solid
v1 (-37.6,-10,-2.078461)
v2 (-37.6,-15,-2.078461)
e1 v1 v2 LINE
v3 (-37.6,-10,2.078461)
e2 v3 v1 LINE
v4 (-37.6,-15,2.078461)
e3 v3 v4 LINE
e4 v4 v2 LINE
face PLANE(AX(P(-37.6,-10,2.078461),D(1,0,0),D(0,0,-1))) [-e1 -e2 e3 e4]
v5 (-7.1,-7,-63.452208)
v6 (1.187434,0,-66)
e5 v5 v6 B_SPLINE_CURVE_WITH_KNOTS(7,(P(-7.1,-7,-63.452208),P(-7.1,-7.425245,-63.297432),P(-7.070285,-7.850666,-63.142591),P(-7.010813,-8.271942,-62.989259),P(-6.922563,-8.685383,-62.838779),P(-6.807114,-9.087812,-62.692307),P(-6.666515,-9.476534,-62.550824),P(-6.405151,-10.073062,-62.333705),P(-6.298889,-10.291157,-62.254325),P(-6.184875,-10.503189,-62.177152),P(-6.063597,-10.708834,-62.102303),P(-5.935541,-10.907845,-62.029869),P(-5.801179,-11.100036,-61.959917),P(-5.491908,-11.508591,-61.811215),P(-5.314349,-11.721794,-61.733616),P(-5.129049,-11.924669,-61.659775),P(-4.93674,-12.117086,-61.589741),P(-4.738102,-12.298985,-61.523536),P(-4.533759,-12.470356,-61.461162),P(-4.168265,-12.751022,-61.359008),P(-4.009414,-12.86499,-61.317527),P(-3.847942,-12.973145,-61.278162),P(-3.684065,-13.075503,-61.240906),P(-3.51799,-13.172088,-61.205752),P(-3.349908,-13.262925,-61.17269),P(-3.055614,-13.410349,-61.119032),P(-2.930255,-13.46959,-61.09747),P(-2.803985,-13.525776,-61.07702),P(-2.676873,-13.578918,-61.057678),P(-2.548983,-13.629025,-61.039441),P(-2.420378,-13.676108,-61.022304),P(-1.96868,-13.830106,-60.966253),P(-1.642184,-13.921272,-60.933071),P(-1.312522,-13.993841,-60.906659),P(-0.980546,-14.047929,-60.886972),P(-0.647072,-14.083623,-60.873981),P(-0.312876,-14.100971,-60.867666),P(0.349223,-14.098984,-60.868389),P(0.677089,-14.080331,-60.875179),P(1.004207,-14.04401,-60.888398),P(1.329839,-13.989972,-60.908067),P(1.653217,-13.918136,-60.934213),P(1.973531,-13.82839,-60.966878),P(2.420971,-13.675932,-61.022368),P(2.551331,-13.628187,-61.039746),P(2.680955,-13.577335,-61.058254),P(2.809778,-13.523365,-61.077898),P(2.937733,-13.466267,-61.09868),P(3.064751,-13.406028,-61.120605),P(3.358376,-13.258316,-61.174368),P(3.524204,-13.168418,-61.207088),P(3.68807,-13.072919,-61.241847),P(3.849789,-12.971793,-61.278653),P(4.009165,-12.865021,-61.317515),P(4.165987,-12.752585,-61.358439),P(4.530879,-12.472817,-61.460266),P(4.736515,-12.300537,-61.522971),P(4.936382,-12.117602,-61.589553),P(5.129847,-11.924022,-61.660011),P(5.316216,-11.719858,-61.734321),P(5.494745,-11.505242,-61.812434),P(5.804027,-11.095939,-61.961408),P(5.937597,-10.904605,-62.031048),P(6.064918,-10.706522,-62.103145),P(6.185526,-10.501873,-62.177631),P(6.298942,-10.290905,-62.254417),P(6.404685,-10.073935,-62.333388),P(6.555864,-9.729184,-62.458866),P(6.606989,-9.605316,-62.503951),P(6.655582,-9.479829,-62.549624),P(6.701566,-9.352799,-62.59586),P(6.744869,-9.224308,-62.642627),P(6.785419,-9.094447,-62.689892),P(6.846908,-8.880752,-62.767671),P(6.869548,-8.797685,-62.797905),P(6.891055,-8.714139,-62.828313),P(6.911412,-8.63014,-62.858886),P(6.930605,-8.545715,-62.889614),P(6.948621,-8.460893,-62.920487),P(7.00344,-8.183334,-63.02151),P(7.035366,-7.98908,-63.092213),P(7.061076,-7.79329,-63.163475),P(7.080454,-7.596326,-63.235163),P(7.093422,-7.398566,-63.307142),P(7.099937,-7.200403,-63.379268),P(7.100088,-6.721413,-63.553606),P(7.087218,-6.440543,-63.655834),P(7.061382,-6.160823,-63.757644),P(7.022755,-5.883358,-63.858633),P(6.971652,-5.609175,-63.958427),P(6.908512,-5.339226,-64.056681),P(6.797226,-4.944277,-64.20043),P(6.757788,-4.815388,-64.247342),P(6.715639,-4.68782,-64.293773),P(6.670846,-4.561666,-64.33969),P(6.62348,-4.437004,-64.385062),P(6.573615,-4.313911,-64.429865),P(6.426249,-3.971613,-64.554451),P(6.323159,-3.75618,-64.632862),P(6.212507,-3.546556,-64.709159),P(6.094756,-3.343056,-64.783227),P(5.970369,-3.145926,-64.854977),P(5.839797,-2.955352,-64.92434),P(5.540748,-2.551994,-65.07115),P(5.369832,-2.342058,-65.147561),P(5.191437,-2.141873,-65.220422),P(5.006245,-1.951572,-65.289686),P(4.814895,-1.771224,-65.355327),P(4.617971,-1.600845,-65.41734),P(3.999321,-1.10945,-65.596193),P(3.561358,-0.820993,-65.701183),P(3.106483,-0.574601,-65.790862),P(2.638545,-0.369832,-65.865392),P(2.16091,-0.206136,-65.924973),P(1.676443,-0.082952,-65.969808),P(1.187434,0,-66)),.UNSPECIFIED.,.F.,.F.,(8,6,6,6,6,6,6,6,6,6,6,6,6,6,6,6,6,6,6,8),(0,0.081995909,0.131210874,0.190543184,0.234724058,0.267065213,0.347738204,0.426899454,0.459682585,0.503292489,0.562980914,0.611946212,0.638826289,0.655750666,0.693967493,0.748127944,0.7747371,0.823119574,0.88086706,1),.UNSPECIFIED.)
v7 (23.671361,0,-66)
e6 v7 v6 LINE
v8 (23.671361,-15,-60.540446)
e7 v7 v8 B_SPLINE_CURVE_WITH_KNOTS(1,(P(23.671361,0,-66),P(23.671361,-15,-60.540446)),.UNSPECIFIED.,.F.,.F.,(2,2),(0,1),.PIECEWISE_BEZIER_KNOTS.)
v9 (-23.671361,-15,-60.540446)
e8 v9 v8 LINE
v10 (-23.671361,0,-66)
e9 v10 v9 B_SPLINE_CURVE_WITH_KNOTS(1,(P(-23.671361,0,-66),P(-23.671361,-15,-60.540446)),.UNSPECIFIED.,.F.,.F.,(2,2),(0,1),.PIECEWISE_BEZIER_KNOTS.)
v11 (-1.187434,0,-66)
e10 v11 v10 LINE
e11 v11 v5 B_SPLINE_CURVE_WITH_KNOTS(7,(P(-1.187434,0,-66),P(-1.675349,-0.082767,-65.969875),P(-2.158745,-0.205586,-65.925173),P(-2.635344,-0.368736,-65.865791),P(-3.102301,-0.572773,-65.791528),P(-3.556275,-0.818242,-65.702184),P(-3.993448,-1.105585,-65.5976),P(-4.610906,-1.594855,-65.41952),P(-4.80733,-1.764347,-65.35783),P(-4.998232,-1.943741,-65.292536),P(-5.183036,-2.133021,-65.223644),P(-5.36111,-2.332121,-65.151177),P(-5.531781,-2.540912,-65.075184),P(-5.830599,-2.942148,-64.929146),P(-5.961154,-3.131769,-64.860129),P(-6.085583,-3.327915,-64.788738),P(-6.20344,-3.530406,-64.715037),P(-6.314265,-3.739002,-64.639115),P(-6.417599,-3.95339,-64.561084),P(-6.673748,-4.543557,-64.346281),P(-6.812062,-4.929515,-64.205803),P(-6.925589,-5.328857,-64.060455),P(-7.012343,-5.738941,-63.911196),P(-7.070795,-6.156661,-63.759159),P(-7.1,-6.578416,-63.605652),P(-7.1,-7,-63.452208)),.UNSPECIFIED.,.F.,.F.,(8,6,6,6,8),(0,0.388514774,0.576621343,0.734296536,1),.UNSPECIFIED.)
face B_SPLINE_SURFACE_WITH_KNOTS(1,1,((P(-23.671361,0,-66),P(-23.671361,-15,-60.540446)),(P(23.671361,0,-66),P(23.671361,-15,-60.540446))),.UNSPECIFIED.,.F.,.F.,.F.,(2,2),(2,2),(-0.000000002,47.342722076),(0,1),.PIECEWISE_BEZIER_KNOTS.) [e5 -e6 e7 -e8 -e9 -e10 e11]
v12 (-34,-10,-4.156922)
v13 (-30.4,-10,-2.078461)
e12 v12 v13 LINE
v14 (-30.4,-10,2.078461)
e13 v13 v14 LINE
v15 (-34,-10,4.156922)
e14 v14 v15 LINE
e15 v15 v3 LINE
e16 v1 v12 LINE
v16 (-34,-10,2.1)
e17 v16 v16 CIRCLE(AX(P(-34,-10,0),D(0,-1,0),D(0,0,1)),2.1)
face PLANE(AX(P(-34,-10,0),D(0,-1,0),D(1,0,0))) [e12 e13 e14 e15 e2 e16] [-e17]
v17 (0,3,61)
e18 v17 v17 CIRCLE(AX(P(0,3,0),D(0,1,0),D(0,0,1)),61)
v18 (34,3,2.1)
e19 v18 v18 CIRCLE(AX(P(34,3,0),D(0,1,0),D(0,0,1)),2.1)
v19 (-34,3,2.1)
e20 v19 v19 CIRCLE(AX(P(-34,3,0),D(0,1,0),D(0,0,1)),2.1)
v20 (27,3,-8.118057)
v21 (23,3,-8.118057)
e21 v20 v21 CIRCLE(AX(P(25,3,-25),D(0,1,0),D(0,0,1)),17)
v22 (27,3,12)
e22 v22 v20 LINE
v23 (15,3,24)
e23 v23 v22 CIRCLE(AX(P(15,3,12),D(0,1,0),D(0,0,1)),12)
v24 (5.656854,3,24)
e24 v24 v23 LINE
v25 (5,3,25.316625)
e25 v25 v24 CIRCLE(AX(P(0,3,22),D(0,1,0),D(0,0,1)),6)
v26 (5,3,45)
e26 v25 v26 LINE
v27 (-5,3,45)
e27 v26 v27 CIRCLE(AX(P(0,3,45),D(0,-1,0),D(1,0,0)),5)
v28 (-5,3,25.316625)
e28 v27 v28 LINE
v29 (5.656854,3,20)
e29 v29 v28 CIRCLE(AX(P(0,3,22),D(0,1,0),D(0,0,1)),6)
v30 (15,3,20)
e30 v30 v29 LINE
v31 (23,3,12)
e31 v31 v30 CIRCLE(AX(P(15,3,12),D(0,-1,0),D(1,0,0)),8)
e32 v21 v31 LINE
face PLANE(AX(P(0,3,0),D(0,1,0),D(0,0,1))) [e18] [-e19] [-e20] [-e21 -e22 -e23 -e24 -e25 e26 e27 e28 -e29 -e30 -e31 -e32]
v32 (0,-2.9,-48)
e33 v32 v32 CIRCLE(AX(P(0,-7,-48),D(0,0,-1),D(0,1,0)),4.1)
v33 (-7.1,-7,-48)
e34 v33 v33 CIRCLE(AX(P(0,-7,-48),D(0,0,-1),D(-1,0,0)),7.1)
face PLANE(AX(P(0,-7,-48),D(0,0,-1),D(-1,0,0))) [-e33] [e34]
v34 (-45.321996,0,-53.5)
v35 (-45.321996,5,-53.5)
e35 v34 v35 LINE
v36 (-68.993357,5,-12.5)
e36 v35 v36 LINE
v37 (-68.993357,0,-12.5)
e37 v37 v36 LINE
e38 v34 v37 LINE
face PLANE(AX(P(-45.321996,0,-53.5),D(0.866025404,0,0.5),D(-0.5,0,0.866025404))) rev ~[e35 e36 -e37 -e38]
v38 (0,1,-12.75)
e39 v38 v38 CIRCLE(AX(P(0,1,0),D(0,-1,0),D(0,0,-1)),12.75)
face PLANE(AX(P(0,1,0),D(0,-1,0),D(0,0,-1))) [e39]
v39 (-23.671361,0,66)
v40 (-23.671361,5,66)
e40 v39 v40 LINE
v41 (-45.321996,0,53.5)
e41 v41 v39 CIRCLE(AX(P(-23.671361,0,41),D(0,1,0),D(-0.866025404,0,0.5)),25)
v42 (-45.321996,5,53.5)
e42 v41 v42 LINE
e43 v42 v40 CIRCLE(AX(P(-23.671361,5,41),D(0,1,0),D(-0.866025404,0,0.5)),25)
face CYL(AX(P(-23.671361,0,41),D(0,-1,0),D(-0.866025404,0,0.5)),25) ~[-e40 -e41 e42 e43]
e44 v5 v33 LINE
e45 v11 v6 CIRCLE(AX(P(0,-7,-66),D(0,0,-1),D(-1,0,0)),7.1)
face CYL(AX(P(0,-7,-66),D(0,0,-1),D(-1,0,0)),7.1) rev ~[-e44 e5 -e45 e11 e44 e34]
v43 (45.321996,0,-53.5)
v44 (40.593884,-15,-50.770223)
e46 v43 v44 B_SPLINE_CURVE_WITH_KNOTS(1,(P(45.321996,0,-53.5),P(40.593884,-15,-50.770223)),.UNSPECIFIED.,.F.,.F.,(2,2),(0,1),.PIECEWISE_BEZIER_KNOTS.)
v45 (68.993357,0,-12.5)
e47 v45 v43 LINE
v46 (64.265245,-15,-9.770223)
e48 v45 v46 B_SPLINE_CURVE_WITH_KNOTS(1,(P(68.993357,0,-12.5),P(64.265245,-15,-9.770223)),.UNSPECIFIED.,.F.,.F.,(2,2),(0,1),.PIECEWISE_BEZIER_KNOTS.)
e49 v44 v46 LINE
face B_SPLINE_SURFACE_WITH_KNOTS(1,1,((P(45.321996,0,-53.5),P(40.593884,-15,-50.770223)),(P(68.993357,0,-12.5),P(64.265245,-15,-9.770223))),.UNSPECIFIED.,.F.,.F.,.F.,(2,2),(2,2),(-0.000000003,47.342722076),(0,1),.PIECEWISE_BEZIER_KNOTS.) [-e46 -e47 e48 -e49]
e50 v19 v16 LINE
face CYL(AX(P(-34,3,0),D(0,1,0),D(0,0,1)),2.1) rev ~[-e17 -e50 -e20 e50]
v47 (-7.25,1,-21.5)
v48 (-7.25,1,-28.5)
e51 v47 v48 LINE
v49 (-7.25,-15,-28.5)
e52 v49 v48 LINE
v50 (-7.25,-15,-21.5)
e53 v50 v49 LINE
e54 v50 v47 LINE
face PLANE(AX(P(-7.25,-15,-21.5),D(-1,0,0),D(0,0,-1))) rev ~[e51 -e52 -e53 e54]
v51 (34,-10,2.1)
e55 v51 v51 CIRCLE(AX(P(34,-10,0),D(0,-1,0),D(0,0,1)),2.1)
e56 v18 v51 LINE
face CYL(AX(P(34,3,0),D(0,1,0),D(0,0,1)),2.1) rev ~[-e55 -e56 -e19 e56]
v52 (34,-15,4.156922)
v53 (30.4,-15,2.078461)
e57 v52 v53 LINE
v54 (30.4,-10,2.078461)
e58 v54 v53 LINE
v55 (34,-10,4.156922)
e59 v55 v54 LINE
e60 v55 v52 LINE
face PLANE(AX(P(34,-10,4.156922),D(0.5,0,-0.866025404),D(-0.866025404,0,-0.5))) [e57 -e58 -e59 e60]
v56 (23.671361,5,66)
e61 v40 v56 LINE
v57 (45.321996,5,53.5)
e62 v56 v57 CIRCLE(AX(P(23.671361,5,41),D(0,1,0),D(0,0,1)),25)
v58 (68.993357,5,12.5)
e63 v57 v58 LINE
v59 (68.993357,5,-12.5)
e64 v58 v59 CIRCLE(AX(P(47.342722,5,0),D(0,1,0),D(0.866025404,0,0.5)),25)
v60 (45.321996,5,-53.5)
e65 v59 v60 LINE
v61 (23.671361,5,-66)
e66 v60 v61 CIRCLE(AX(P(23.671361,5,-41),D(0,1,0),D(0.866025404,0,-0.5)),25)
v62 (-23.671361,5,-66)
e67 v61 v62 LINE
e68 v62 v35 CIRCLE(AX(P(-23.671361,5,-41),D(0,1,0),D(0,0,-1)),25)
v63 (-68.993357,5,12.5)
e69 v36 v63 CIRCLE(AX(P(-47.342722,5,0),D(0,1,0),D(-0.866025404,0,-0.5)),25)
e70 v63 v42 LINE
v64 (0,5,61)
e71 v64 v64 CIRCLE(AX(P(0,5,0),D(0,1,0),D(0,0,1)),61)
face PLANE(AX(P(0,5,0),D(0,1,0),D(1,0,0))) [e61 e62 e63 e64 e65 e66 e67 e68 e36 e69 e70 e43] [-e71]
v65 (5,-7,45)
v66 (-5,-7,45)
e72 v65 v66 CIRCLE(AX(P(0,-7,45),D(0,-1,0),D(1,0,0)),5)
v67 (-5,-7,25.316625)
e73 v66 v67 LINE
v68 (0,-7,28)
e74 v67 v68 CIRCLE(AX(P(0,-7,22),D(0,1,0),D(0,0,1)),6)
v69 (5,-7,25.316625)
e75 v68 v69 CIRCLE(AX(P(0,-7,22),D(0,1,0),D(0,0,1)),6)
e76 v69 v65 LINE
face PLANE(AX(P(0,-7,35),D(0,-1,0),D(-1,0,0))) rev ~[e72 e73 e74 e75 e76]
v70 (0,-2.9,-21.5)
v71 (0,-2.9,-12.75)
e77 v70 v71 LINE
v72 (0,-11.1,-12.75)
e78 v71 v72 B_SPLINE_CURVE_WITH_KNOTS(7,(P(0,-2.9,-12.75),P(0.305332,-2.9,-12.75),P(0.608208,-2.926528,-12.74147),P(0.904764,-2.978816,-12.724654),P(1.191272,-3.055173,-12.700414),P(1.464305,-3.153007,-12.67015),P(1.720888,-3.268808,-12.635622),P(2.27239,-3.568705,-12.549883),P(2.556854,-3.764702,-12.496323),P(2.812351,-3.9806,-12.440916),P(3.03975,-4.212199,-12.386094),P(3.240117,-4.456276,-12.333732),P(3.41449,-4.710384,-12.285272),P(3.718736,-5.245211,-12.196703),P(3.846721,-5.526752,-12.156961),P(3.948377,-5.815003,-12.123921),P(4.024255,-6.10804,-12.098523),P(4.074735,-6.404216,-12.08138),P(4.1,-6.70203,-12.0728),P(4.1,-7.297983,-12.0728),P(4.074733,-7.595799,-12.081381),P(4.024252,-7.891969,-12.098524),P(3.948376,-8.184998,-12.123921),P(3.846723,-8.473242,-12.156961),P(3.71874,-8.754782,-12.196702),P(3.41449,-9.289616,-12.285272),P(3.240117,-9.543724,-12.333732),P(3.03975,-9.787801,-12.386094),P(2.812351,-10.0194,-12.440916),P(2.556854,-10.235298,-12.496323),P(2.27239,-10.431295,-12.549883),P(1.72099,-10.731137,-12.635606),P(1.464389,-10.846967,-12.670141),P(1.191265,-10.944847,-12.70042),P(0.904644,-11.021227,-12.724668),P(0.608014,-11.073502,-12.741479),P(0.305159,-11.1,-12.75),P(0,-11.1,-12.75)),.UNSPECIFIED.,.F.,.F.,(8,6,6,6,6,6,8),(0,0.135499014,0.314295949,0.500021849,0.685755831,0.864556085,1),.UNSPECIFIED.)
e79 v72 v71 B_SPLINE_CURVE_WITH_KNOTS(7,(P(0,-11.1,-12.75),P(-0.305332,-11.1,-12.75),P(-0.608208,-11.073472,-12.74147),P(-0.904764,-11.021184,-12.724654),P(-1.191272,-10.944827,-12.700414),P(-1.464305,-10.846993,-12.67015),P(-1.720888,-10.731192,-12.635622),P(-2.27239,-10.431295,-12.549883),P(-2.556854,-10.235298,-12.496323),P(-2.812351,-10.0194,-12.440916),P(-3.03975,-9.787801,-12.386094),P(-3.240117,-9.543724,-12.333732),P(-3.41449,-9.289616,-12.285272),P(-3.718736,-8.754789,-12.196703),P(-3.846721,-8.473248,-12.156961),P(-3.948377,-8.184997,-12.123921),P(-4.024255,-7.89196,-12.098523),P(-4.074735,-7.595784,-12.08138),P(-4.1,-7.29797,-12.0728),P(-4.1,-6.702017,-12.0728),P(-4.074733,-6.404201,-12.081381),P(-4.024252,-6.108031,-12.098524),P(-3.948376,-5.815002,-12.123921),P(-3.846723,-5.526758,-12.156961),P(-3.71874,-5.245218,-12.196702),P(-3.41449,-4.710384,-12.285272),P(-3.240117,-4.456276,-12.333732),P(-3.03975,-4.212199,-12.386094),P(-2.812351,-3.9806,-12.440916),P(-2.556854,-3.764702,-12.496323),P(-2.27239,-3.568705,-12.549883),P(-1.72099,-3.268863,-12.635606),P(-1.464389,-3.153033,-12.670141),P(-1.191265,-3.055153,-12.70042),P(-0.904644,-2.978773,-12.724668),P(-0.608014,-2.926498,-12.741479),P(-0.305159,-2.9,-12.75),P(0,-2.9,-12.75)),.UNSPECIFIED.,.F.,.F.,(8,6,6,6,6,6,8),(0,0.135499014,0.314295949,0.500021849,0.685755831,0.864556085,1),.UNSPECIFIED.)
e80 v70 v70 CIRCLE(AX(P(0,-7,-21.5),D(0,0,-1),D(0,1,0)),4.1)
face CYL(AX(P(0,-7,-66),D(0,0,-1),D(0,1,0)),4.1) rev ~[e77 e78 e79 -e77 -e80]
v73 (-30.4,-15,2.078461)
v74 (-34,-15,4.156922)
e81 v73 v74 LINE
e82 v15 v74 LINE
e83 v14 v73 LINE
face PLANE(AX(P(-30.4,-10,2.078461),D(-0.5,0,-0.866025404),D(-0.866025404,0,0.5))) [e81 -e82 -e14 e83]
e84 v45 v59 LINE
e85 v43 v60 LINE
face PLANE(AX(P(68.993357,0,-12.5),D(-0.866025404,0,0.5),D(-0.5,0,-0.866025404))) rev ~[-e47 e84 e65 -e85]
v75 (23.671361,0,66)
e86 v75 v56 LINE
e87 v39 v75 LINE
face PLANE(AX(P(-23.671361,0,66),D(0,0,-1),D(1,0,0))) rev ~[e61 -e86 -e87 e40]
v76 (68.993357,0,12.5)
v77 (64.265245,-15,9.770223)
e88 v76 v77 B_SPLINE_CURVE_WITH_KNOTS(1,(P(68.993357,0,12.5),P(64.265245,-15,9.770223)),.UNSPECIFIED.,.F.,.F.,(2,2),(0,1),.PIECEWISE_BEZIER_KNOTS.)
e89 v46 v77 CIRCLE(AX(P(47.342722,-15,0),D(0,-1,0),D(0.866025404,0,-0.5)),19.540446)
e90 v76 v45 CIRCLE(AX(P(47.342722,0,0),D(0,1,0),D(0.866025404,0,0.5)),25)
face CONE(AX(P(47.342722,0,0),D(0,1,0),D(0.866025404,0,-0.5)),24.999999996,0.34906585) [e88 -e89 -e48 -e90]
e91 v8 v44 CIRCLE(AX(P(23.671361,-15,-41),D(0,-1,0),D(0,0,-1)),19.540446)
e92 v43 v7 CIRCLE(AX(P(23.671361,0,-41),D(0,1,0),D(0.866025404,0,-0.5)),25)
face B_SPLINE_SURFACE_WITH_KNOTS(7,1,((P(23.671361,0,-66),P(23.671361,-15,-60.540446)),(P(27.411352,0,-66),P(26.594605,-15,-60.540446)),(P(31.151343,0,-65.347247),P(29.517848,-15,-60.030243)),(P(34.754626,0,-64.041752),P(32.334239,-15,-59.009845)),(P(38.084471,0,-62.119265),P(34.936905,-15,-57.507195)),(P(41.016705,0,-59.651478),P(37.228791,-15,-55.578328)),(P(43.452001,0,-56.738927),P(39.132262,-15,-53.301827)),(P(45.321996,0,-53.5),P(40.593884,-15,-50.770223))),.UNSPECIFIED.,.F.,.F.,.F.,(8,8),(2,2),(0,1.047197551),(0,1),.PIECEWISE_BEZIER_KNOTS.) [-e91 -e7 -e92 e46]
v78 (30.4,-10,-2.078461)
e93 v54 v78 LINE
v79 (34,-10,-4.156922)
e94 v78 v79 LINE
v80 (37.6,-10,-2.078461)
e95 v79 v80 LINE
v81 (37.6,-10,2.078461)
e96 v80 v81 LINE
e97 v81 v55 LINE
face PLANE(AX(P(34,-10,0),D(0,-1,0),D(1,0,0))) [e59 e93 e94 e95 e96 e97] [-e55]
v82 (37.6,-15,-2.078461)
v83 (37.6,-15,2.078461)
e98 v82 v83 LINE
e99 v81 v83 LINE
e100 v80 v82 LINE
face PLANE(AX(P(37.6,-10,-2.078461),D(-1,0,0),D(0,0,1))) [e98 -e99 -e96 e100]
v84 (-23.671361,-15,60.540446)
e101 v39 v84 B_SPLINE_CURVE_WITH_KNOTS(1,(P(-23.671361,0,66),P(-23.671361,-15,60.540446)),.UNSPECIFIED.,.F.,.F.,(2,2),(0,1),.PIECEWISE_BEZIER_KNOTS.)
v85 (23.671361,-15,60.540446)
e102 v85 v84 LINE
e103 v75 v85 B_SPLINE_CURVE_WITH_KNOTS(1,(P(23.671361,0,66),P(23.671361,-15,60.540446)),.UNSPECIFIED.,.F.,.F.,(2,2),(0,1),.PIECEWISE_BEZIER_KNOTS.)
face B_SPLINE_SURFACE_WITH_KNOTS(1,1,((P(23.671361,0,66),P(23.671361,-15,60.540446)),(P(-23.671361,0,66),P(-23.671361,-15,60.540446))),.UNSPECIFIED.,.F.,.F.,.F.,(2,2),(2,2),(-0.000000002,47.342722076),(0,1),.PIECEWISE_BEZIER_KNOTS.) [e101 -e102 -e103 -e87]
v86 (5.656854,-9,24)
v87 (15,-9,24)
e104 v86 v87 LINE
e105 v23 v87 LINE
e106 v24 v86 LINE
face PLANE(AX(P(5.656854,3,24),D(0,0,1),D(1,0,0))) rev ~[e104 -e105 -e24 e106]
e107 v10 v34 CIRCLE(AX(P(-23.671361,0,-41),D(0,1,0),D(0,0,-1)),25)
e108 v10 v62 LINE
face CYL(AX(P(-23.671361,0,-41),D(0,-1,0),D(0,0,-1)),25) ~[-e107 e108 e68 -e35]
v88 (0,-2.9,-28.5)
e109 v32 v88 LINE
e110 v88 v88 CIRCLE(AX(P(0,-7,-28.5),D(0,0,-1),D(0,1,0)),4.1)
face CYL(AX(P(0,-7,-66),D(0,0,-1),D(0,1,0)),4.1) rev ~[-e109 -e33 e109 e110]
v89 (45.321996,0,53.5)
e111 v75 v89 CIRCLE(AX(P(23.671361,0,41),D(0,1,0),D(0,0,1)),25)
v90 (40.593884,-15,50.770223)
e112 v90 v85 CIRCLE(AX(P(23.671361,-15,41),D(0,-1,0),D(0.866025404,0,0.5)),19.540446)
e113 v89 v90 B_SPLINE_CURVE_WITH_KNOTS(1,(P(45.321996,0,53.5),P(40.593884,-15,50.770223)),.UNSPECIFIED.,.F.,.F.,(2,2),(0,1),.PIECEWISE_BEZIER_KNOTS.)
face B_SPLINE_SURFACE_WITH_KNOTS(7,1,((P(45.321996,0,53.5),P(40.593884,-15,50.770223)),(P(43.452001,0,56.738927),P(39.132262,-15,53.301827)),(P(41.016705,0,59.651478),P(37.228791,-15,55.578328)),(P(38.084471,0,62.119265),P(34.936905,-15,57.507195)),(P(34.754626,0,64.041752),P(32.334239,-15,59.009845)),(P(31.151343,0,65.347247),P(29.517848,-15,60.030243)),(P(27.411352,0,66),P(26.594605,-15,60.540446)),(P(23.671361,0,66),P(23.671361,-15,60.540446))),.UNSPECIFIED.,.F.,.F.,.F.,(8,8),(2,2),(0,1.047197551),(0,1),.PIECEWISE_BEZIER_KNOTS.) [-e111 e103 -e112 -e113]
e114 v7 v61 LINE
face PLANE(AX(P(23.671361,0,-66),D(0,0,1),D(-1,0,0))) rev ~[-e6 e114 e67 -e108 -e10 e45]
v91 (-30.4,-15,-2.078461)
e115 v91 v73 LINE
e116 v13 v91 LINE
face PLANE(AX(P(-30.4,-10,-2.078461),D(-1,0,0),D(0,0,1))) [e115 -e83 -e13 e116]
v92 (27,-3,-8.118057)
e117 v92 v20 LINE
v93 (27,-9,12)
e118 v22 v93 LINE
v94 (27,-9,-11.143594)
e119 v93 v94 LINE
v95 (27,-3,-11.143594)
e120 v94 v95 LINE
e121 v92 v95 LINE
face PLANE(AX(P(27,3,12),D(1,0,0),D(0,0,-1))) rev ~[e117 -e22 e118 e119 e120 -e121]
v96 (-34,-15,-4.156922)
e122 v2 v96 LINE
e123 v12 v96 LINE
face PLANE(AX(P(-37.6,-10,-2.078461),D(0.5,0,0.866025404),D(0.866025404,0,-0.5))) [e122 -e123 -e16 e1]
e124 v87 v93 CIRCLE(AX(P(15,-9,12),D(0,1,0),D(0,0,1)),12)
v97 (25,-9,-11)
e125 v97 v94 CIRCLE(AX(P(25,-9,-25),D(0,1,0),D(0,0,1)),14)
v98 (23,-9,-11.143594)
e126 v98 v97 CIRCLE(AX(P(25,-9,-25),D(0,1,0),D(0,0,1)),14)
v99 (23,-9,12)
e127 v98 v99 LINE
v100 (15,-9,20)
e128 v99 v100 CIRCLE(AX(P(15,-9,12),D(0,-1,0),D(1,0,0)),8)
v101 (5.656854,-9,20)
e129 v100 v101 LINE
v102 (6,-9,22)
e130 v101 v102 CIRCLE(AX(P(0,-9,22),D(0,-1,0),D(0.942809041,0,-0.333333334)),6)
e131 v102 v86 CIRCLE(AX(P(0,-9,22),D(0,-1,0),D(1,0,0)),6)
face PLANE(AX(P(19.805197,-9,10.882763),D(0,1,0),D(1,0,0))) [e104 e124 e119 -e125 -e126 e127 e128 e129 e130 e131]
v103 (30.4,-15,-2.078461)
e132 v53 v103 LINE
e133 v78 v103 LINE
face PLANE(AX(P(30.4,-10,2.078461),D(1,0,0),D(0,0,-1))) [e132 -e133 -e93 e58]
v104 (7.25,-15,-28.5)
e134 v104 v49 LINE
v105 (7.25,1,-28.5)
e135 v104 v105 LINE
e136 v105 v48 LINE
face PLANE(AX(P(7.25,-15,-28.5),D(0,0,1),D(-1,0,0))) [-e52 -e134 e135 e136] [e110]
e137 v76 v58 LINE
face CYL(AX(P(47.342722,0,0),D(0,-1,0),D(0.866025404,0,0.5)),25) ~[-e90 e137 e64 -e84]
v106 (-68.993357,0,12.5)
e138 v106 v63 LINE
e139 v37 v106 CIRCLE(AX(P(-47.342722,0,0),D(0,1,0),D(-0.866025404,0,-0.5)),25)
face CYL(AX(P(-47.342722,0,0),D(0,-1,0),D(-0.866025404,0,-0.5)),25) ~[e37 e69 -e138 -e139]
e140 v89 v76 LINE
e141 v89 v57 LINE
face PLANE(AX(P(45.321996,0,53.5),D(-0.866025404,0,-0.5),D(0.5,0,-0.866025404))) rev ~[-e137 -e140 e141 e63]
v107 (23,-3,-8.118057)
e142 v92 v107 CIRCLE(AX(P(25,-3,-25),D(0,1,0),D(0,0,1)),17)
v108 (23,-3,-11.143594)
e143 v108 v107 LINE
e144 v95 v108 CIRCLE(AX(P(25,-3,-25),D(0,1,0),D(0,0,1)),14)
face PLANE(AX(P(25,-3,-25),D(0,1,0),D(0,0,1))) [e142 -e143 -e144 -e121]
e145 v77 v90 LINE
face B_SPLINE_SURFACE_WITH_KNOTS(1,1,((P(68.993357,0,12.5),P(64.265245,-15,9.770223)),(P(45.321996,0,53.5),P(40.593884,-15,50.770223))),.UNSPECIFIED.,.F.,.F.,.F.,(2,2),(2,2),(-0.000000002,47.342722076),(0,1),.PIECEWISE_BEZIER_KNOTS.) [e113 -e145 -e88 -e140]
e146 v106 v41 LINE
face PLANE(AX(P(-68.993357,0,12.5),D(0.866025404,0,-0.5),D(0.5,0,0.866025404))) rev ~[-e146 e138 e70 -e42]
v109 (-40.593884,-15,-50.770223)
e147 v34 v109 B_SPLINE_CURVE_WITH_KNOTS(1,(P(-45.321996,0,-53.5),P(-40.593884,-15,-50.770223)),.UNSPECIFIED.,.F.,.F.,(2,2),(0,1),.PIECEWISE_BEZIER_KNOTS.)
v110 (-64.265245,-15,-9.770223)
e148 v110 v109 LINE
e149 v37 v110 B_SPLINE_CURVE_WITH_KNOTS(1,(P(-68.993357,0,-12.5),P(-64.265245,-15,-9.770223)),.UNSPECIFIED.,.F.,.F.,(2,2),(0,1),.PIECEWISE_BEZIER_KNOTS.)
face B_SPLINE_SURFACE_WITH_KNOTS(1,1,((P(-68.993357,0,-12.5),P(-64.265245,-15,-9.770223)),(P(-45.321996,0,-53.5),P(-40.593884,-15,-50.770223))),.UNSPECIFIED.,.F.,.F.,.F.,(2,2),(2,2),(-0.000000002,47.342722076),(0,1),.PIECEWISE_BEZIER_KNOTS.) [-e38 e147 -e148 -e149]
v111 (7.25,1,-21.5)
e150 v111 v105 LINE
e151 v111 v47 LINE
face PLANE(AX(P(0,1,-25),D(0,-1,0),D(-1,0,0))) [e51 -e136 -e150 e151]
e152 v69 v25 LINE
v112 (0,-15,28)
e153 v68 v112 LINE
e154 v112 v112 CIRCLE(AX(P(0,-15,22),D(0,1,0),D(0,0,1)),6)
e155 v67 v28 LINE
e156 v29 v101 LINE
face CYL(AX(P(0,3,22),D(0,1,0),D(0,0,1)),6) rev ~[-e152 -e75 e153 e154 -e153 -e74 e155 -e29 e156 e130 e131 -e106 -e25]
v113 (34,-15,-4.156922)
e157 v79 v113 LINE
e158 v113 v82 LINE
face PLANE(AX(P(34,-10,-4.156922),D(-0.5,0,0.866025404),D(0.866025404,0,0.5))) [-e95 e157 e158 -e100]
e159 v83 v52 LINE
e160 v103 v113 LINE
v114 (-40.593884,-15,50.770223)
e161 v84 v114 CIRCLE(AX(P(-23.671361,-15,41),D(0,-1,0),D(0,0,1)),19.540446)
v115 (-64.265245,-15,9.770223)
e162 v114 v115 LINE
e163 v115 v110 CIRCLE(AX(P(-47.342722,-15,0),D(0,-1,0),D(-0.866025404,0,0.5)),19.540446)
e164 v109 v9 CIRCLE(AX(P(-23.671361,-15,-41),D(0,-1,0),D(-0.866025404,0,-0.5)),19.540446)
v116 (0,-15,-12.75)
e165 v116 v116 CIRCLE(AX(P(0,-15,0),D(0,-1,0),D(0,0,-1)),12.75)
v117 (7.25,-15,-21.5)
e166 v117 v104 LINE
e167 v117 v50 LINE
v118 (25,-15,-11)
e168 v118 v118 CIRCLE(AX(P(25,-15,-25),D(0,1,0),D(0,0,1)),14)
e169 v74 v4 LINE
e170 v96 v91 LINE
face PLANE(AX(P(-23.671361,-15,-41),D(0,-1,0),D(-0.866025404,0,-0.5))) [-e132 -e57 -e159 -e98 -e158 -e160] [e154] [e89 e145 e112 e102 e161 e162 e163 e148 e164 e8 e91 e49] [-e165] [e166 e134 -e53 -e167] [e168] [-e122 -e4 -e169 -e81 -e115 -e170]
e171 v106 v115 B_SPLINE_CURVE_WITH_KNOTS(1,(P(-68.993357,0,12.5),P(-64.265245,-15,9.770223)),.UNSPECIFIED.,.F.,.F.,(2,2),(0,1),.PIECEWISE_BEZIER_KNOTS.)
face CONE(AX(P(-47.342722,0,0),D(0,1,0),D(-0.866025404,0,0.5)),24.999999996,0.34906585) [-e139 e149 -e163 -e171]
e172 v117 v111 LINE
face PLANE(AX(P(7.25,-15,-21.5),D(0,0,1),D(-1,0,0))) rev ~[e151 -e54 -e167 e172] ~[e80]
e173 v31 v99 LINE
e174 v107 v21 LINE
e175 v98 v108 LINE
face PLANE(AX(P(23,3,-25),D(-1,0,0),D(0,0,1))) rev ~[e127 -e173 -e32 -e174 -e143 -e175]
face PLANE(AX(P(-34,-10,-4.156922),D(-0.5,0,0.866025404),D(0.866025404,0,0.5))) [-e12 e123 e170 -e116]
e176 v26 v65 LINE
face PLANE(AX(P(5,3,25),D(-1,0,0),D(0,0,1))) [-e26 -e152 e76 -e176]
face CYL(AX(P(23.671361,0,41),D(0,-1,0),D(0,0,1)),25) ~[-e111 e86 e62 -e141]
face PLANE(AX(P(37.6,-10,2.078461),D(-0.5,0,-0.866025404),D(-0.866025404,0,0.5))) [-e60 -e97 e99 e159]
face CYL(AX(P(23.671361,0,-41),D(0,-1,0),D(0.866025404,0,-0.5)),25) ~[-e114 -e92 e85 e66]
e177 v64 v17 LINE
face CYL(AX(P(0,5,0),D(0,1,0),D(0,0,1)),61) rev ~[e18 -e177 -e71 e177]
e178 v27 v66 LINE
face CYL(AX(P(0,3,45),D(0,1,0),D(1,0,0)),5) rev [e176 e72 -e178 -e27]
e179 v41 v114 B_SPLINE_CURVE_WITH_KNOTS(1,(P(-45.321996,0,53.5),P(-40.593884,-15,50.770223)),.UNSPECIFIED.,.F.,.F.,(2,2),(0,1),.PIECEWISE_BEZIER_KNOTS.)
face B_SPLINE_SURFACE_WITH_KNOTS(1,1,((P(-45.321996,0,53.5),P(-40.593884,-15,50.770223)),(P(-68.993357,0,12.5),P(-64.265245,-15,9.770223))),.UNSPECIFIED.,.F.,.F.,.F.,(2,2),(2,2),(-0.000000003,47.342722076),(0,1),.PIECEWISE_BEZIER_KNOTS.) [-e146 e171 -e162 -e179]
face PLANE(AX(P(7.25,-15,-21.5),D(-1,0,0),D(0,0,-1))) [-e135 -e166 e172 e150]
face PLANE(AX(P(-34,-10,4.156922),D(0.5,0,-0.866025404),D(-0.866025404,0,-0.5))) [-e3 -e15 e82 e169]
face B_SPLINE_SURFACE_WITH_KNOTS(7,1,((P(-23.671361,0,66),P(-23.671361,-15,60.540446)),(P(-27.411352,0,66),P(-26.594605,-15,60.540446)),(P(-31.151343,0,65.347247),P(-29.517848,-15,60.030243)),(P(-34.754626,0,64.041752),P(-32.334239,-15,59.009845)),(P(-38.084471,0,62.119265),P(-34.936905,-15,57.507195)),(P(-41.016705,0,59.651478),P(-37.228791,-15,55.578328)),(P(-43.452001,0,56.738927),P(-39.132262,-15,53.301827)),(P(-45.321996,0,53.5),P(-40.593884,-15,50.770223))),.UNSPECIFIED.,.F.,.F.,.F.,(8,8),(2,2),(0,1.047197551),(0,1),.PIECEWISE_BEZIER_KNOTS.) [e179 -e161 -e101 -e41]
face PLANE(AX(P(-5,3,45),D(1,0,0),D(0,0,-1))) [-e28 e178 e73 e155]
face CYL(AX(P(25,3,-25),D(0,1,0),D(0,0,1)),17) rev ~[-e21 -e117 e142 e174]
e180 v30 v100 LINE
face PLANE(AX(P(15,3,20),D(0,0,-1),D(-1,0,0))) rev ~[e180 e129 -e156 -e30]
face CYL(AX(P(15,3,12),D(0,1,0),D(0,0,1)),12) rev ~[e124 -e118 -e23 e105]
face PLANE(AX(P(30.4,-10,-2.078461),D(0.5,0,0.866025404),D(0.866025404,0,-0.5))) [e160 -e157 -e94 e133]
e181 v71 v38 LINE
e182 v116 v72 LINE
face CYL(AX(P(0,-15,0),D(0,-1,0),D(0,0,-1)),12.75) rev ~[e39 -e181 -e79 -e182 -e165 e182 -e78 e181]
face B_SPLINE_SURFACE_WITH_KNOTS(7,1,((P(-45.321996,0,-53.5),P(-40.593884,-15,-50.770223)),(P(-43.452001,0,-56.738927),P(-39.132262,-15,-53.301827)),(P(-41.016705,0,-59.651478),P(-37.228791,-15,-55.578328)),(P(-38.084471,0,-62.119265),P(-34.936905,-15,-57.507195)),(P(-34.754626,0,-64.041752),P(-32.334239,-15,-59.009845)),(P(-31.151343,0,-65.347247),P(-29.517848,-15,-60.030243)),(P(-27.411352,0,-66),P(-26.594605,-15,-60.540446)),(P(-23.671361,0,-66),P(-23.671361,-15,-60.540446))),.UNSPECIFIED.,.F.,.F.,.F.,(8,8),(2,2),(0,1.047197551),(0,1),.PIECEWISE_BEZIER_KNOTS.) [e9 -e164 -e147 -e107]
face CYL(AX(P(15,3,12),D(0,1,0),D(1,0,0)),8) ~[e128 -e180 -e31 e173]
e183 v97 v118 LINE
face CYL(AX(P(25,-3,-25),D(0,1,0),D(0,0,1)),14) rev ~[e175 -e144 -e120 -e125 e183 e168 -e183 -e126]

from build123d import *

# Parameters (mm, degrees)
BOSS_EXTRUDE1_DEPTH = 5
BOSS_EXTRUDE2_DEPTH = 15
BOSS_EXTRUDE2_TAPER = 20
SKETCH3_R           = 61
CUT_EXTRUDE1_DEPTH  = 2
SKETCH4_R           = 17
CUT_EXTRUDE2_DEPTH  = 6
CUT_EXTRUDE3_REACH  = 100.658
SKETCH7_R           = 14
SKETCH8_R           = 12.75
CUT_EXTRUDE4_DEPTH  = 16
SKETCH9_R           = 2.1
CUT_EXTRUDE5_DEPTH  = 20
SKETCH12_R          = 4.1
CUT_EXTRUDE7_DEPTH  = 60
SKETCH13_R          = 7.1
CUT_EXTRUDE8_DEPTH  = 18
SKETCH14_W          = 14.5
SKETCH14_H          = 7
CUT_EXTRUDE9_DEPTH  = 16
CUT_EXTRUDE10_START = -5
SKETCH15_R          = 2.1
CUT_EXTRUDE10_DEPTH = 5
CUT_EXTRUDE11_REACH = 101.566
SKETCH16_R          = 6
CUT_EXTRUDE12_DEPTH = 12
CUT_EXTRUDE13_DEPTH = 10


with BuildPart() as part:
    # Sketch1 → Boss-Extrude1 (new body)
    with BuildSketch(Plane(origin=(0, 0, 0), x_dir=(1, 0, 0), z_dir=(0, 1, 0))):
        with BuildLine():
            Line((68.993357168, 12.5), (45.321996131, 53.5))
            ThreePointArc((45.321996131, 53.5), (36.171361037, 62.650635095), (23.671361037, 66))
            Line((23.671361037, 66), (-23.671361037, 66))
            ThreePointArc((-23.671361037, 66), (-36.171361037, 62.650635095), (-45.321996131, 53.5))
            Line((-45.321996131, 53.5), (-68.993357168, 12.5))
            ThreePointArc((-68.993357168, 12.5), (-72.342722074, 0), (-68.993357168, -12.5))
            Line((-68.993357168, -12.5), (-45.321996131, -53.5))
            ThreePointArc((-45.321996131, -53.5), (-36.171361037, -62.650635095), (-23.671361037, -66))
            Line((-23.671361037, -66), (23.671361037, -66))
            ThreePointArc((23.671361037, -66), (36.171361037, -62.650635095), (45.321996131, -53.5))
            Line((45.321996131, -53.5), (68.993357168, -12.5))
            ThreePointArc((68.993357168, -12.5), (72.342722074, 0), (68.993357168, 12.5))
        make_face()
    extrude(amount=BOSS_EXTRUDE1_DEPTH)

    # Sketch2 → Boss-Extrude2 (add)
    with BuildSketch(Plane.XZ):
        with BuildLine():
            Line((-68.993357168, -12.5), (-45.321996131, -53.5))
            ThreePointArc((-45.321996131, -53.5), (-36.171361037, -62.650635095), (-23.671361037, -66))
            Line((-23.671361037, -66), (23.671361037, -66))
            ThreePointArc((23.671361037, -66), (36.171361037, -62.650635095), (45.321996131, -53.5))
            Line((45.321996131, -53.5), (68.993357168, -12.5))
            ThreePointArc((68.993357168, -12.5), (72.342722074, 0), (68.993357168, 12.5))
            Line((68.993357168, 12.5), (45.321996131, 53.5))
            ThreePointArc((45.321996131, 53.5), (36.171361037, 62.650635095), (23.671361037, 66))
            Line((23.671361037, 66), (-23.671361037, 66))
            ThreePointArc((-23.671361037, 66), (-36.171361037, 62.650635095), (-45.321996131, 53.5))
            Line((-45.321996131, 53.5), (-68.993357168, 12.5))
            ThreePointArc((-68.993357168, 12.5), (-72.342722074, 0), (-68.993357168, -12.5))
        make_face()
    extrude(amount=BOSS_EXTRUDE2_DEPTH, taper=BOSS_EXTRUDE2_TAPER)

    # Sketch3 → Cut-Extrude1 (cut)
    with BuildSketch(Plane(origin=(0, 5, 0), x_dir=(1, 0, 0), z_dir=(0, 1, 0))):
        with Locations(Location((0, 0, 0), (0, 0, 270))):
            Circle(SKETCH3_R)
    extrude(amount=-CUT_EXTRUDE1_DEPTH, mode=Mode.SUBTRACT)

    # Sketch4 → Cut-Extrude2 (cut)
    with BuildSketch(Plane(origin=(0, 3, 0), x_dir=(1, 0, 0), z_dir=(0, 1, 0))):
        with Locations(Location((25, 25, 0), (0, 0, 270))):
            Circle(SKETCH4_R)
    extrude(amount=-CUT_EXTRUDE2_DEPTH, mode=Mode.SUBTRACT)

    # Sketch7 → Cut-Extrude3 (cut, up to next)
    with BuildSketch(Plane(origin=(0, -3, 0), x_dir=(1, 0, 0), z_dir=(0, 1, 0)), mode=Mode.PRIVATE) as cut_extrude3_sk1:
        with Locations(Location((25, 25, 0), (0, 0, 270))):
            Circle(SKETCH7_R)
    cut_extrude3_tool1 = extrude(cut_extrude3_sk1.sketch, amount=-CUT_EXTRUDE3_REACH, mode=Mode.PRIVATE) & part.part
    add(cut_extrude3_tool1.solids().sort_by_distance((25, -3, -25))[0], mode=Mode.SUBTRACT)

    # Sketch8 → Cut-Extrude4 (cut)
    with BuildSketch(Plane(origin=(0, -15, 0), x_dir=(-1, 0, 0), z_dir=(0, -1, 0))):
        with Locations(Location((0, 0, 0), (0, 0, 90))):
            Circle(SKETCH8_R)
    extrude(amount=-CUT_EXTRUDE4_DEPTH, mode=Mode.SUBTRACT)

    # Sketch9 → Cut-Extrude5 (cut)
    with BuildSketch(Plane(origin=(0, 3, 0), x_dir=(1, 0, 0), z_dir=(0, 1, 0))):
        with Locations(Location((34, 0, 0), (0, 0, 270))):
            Circle(SKETCH9_R)
        with Locations(Location((-34, 0, 0), (0, 0, 270))):
            Circle(SKETCH9_R)
    extrude(amount=-CUT_EXTRUDE5_DEPTH, mode=Mode.SUBTRACT)

    # Sketch12 → Cut-Extrude7 (cut)
    with BuildSketch(Plane(origin=(0, 0, -66), x_dir=(-1, 0, 0), z_dir=(0, 0, -1))):
        with Locations(Location((0, -7, 0), (0, 0, 90))):
            Circle(SKETCH12_R)
    extrude(amount=-CUT_EXTRUDE7_DEPTH, mode=Mode.SUBTRACT)

    # Sketch13 → Cut-Extrude8 (cut)
    with BuildSketch(Plane(origin=(0, 0, -66), x_dir=(-1, 0, 0), z_dir=(0, 0, -1))):
        with Locations((0, -7)):
            Circle(SKETCH13_R)
    extrude(amount=-CUT_EXTRUDE8_DEPTH, mode=Mode.SUBTRACT)

    # Sketch14 → Cut-Extrude9 (cut)
    with BuildSketch(Plane(origin=(0, -15, 0), x_dir=(-1, 0, 0), z_dir=(0, -1, 0))):
        with Locations((0, 25)):
            Rectangle(SKETCH14_W, SKETCH14_H)
    extrude(amount=-CUT_EXTRUDE9_DEPTH, mode=Mode.SUBTRACT)

    # Sketch15 → Cut-Extrude10 (cut)
    # profile 1 of 2: a face of its own
    with BuildSketch(Plane.XZ.offset(15).offset(CUT_EXTRUDE10_START)):
        Polygon((-34, 4.156921938), (-37.6, 2.078460969), (-37.6, -2.078460969), (-34, -4.156921938), (-30.4, -2.078460969), (-30.4, 2.078460969), align=None)
        with Locations(Location((-34, 0, 0), (0, 0, 90))):
            Circle(SKETCH15_R, mode=Mode.SUBTRACT)
    # profile 2 of 2: a face of its own
    with BuildSketch(Plane.XZ.offset(15).offset(CUT_EXTRUDE10_START)):
        Polygon((34, 4.156921938), (30.4, 2.078460969), (30.4, -2.078460969), (34, -4.156921938), (37.6, -2.078460969), (37.6, 2.078460969), align=None)
        with Locations(Location((34, 0, 0), (0, 0, 90))):
            Circle(SKETCH15_R, mode=Mode.SUBTRACT)
    extrude(amount=CUT_EXTRUDE10_DEPTH, mode=Mode.SUBTRACT)

    # Sketch16 → Cut-Extrude11 (cut, up to next)
    with BuildSketch(Plane(origin=(0, 3, 0), x_dir=(1, 0, 0), z_dir=(0, 1, 0)), mode=Mode.PRIVATE) as cut_extrude11_sk1:
        with Locations(Location((0, -22, 0), (0, 0, 270))):
            Circle(SKETCH16_R)
    cut_extrude11_tool1 = extrude(cut_extrude11_sk1.sketch, amount=-CUT_EXTRUDE11_REACH, mode=Mode.PRIVATE) & part.part
    add(cut_extrude11_tool1.solids().sort_by_distance((0, 3, 22))[0], mode=Mode.SUBTRACT)

    # Sketch17 → Cut-Extrude12 (cut)
    with BuildSketch(Plane(origin=(0, 3, 0), x_dir=(1, 0, 0), z_dir=(0, 1, 0))):
        with BuildLine():
            Line((25, -12), (25, 8))
            ThreePointArc((25, 8), (23.998259334, 8.029539911), (23, 8.118056984))
            Line((23, 8.118056984), (23, -12))
            ThreePointArc((23, -12), (20.656854249, -17.656854249), (15, -20))
            Line((15, -20), (5.656854249, -20))
            ThreePointArc((5.656854249, -20), (5.913591358, -20.985388128), (6, -22))
            Line((6, -22), (15, -22))
            ThreePointArc((15, -22), (22.071067812, -19.071067812), (25, -12))
        make_face()
        with BuildLine():
            ThreePointArc((27, 8.118056984), (26.001740666, 8.029539911), (25, 8))
            Line((25, 8), (25, -12))
            ThreePointArc((25, -12), (22.071067812, -19.071067812), (15, -22))
            Line((15, -22), (6, -22))
            ThreePointArc((6, -22), (5.913591358, -23.014611872), (5.656854249, -24))
            Line((5.656854249, -24), (15, -24))
            ThreePointArc((15, -24), (23.485281374, -20.485281374), (27, -12))
            Line((27, -12), (27, 8.118056984))
        make_face()
        with BuildLine():
            Line((25, 8), (25, 25))
            Line((25, 25), (23, 25))
            Line((23, 25), (23, 8.118056984))
            ThreePointArc((23, 8.118056984), (23.998259334, 8.029539911), (25, 8))
        make_face()
        with BuildLine():
            Line((27, 25), (25, 25))
            Line((25, 25), (25, 8))
            ThreePointArc((25, 8), (26.001740666, 8.029539911), (27, 8.118056984))
            Line((27, 8.118056984), (27, 25))
        make_face()
    extrude(amount=-CUT_EXTRUDE12_DEPTH, mode=Mode.SUBTRACT)

    # Sketch18 → Cut-Extrude13 (cut)
    with BuildSketch(Plane(origin=(0, 3, 0), x_dir=(1, 0, 0), z_dir=(0, 1, 0))):
        with BuildLine():
            Line((5, -25), (5, -45))
            ThreePointArc((5, -45), (0, -50), (-5, -45))
            Line((-5, -45), (-5, -25))
            ThreePointArc((-5, -25), (0, -20), (5, -25))
        make_face()
    extrude(amount=-CUT_EXTRUDE13_DEPTH, mode=Mode.SUBTRACT)


solid = part.part
